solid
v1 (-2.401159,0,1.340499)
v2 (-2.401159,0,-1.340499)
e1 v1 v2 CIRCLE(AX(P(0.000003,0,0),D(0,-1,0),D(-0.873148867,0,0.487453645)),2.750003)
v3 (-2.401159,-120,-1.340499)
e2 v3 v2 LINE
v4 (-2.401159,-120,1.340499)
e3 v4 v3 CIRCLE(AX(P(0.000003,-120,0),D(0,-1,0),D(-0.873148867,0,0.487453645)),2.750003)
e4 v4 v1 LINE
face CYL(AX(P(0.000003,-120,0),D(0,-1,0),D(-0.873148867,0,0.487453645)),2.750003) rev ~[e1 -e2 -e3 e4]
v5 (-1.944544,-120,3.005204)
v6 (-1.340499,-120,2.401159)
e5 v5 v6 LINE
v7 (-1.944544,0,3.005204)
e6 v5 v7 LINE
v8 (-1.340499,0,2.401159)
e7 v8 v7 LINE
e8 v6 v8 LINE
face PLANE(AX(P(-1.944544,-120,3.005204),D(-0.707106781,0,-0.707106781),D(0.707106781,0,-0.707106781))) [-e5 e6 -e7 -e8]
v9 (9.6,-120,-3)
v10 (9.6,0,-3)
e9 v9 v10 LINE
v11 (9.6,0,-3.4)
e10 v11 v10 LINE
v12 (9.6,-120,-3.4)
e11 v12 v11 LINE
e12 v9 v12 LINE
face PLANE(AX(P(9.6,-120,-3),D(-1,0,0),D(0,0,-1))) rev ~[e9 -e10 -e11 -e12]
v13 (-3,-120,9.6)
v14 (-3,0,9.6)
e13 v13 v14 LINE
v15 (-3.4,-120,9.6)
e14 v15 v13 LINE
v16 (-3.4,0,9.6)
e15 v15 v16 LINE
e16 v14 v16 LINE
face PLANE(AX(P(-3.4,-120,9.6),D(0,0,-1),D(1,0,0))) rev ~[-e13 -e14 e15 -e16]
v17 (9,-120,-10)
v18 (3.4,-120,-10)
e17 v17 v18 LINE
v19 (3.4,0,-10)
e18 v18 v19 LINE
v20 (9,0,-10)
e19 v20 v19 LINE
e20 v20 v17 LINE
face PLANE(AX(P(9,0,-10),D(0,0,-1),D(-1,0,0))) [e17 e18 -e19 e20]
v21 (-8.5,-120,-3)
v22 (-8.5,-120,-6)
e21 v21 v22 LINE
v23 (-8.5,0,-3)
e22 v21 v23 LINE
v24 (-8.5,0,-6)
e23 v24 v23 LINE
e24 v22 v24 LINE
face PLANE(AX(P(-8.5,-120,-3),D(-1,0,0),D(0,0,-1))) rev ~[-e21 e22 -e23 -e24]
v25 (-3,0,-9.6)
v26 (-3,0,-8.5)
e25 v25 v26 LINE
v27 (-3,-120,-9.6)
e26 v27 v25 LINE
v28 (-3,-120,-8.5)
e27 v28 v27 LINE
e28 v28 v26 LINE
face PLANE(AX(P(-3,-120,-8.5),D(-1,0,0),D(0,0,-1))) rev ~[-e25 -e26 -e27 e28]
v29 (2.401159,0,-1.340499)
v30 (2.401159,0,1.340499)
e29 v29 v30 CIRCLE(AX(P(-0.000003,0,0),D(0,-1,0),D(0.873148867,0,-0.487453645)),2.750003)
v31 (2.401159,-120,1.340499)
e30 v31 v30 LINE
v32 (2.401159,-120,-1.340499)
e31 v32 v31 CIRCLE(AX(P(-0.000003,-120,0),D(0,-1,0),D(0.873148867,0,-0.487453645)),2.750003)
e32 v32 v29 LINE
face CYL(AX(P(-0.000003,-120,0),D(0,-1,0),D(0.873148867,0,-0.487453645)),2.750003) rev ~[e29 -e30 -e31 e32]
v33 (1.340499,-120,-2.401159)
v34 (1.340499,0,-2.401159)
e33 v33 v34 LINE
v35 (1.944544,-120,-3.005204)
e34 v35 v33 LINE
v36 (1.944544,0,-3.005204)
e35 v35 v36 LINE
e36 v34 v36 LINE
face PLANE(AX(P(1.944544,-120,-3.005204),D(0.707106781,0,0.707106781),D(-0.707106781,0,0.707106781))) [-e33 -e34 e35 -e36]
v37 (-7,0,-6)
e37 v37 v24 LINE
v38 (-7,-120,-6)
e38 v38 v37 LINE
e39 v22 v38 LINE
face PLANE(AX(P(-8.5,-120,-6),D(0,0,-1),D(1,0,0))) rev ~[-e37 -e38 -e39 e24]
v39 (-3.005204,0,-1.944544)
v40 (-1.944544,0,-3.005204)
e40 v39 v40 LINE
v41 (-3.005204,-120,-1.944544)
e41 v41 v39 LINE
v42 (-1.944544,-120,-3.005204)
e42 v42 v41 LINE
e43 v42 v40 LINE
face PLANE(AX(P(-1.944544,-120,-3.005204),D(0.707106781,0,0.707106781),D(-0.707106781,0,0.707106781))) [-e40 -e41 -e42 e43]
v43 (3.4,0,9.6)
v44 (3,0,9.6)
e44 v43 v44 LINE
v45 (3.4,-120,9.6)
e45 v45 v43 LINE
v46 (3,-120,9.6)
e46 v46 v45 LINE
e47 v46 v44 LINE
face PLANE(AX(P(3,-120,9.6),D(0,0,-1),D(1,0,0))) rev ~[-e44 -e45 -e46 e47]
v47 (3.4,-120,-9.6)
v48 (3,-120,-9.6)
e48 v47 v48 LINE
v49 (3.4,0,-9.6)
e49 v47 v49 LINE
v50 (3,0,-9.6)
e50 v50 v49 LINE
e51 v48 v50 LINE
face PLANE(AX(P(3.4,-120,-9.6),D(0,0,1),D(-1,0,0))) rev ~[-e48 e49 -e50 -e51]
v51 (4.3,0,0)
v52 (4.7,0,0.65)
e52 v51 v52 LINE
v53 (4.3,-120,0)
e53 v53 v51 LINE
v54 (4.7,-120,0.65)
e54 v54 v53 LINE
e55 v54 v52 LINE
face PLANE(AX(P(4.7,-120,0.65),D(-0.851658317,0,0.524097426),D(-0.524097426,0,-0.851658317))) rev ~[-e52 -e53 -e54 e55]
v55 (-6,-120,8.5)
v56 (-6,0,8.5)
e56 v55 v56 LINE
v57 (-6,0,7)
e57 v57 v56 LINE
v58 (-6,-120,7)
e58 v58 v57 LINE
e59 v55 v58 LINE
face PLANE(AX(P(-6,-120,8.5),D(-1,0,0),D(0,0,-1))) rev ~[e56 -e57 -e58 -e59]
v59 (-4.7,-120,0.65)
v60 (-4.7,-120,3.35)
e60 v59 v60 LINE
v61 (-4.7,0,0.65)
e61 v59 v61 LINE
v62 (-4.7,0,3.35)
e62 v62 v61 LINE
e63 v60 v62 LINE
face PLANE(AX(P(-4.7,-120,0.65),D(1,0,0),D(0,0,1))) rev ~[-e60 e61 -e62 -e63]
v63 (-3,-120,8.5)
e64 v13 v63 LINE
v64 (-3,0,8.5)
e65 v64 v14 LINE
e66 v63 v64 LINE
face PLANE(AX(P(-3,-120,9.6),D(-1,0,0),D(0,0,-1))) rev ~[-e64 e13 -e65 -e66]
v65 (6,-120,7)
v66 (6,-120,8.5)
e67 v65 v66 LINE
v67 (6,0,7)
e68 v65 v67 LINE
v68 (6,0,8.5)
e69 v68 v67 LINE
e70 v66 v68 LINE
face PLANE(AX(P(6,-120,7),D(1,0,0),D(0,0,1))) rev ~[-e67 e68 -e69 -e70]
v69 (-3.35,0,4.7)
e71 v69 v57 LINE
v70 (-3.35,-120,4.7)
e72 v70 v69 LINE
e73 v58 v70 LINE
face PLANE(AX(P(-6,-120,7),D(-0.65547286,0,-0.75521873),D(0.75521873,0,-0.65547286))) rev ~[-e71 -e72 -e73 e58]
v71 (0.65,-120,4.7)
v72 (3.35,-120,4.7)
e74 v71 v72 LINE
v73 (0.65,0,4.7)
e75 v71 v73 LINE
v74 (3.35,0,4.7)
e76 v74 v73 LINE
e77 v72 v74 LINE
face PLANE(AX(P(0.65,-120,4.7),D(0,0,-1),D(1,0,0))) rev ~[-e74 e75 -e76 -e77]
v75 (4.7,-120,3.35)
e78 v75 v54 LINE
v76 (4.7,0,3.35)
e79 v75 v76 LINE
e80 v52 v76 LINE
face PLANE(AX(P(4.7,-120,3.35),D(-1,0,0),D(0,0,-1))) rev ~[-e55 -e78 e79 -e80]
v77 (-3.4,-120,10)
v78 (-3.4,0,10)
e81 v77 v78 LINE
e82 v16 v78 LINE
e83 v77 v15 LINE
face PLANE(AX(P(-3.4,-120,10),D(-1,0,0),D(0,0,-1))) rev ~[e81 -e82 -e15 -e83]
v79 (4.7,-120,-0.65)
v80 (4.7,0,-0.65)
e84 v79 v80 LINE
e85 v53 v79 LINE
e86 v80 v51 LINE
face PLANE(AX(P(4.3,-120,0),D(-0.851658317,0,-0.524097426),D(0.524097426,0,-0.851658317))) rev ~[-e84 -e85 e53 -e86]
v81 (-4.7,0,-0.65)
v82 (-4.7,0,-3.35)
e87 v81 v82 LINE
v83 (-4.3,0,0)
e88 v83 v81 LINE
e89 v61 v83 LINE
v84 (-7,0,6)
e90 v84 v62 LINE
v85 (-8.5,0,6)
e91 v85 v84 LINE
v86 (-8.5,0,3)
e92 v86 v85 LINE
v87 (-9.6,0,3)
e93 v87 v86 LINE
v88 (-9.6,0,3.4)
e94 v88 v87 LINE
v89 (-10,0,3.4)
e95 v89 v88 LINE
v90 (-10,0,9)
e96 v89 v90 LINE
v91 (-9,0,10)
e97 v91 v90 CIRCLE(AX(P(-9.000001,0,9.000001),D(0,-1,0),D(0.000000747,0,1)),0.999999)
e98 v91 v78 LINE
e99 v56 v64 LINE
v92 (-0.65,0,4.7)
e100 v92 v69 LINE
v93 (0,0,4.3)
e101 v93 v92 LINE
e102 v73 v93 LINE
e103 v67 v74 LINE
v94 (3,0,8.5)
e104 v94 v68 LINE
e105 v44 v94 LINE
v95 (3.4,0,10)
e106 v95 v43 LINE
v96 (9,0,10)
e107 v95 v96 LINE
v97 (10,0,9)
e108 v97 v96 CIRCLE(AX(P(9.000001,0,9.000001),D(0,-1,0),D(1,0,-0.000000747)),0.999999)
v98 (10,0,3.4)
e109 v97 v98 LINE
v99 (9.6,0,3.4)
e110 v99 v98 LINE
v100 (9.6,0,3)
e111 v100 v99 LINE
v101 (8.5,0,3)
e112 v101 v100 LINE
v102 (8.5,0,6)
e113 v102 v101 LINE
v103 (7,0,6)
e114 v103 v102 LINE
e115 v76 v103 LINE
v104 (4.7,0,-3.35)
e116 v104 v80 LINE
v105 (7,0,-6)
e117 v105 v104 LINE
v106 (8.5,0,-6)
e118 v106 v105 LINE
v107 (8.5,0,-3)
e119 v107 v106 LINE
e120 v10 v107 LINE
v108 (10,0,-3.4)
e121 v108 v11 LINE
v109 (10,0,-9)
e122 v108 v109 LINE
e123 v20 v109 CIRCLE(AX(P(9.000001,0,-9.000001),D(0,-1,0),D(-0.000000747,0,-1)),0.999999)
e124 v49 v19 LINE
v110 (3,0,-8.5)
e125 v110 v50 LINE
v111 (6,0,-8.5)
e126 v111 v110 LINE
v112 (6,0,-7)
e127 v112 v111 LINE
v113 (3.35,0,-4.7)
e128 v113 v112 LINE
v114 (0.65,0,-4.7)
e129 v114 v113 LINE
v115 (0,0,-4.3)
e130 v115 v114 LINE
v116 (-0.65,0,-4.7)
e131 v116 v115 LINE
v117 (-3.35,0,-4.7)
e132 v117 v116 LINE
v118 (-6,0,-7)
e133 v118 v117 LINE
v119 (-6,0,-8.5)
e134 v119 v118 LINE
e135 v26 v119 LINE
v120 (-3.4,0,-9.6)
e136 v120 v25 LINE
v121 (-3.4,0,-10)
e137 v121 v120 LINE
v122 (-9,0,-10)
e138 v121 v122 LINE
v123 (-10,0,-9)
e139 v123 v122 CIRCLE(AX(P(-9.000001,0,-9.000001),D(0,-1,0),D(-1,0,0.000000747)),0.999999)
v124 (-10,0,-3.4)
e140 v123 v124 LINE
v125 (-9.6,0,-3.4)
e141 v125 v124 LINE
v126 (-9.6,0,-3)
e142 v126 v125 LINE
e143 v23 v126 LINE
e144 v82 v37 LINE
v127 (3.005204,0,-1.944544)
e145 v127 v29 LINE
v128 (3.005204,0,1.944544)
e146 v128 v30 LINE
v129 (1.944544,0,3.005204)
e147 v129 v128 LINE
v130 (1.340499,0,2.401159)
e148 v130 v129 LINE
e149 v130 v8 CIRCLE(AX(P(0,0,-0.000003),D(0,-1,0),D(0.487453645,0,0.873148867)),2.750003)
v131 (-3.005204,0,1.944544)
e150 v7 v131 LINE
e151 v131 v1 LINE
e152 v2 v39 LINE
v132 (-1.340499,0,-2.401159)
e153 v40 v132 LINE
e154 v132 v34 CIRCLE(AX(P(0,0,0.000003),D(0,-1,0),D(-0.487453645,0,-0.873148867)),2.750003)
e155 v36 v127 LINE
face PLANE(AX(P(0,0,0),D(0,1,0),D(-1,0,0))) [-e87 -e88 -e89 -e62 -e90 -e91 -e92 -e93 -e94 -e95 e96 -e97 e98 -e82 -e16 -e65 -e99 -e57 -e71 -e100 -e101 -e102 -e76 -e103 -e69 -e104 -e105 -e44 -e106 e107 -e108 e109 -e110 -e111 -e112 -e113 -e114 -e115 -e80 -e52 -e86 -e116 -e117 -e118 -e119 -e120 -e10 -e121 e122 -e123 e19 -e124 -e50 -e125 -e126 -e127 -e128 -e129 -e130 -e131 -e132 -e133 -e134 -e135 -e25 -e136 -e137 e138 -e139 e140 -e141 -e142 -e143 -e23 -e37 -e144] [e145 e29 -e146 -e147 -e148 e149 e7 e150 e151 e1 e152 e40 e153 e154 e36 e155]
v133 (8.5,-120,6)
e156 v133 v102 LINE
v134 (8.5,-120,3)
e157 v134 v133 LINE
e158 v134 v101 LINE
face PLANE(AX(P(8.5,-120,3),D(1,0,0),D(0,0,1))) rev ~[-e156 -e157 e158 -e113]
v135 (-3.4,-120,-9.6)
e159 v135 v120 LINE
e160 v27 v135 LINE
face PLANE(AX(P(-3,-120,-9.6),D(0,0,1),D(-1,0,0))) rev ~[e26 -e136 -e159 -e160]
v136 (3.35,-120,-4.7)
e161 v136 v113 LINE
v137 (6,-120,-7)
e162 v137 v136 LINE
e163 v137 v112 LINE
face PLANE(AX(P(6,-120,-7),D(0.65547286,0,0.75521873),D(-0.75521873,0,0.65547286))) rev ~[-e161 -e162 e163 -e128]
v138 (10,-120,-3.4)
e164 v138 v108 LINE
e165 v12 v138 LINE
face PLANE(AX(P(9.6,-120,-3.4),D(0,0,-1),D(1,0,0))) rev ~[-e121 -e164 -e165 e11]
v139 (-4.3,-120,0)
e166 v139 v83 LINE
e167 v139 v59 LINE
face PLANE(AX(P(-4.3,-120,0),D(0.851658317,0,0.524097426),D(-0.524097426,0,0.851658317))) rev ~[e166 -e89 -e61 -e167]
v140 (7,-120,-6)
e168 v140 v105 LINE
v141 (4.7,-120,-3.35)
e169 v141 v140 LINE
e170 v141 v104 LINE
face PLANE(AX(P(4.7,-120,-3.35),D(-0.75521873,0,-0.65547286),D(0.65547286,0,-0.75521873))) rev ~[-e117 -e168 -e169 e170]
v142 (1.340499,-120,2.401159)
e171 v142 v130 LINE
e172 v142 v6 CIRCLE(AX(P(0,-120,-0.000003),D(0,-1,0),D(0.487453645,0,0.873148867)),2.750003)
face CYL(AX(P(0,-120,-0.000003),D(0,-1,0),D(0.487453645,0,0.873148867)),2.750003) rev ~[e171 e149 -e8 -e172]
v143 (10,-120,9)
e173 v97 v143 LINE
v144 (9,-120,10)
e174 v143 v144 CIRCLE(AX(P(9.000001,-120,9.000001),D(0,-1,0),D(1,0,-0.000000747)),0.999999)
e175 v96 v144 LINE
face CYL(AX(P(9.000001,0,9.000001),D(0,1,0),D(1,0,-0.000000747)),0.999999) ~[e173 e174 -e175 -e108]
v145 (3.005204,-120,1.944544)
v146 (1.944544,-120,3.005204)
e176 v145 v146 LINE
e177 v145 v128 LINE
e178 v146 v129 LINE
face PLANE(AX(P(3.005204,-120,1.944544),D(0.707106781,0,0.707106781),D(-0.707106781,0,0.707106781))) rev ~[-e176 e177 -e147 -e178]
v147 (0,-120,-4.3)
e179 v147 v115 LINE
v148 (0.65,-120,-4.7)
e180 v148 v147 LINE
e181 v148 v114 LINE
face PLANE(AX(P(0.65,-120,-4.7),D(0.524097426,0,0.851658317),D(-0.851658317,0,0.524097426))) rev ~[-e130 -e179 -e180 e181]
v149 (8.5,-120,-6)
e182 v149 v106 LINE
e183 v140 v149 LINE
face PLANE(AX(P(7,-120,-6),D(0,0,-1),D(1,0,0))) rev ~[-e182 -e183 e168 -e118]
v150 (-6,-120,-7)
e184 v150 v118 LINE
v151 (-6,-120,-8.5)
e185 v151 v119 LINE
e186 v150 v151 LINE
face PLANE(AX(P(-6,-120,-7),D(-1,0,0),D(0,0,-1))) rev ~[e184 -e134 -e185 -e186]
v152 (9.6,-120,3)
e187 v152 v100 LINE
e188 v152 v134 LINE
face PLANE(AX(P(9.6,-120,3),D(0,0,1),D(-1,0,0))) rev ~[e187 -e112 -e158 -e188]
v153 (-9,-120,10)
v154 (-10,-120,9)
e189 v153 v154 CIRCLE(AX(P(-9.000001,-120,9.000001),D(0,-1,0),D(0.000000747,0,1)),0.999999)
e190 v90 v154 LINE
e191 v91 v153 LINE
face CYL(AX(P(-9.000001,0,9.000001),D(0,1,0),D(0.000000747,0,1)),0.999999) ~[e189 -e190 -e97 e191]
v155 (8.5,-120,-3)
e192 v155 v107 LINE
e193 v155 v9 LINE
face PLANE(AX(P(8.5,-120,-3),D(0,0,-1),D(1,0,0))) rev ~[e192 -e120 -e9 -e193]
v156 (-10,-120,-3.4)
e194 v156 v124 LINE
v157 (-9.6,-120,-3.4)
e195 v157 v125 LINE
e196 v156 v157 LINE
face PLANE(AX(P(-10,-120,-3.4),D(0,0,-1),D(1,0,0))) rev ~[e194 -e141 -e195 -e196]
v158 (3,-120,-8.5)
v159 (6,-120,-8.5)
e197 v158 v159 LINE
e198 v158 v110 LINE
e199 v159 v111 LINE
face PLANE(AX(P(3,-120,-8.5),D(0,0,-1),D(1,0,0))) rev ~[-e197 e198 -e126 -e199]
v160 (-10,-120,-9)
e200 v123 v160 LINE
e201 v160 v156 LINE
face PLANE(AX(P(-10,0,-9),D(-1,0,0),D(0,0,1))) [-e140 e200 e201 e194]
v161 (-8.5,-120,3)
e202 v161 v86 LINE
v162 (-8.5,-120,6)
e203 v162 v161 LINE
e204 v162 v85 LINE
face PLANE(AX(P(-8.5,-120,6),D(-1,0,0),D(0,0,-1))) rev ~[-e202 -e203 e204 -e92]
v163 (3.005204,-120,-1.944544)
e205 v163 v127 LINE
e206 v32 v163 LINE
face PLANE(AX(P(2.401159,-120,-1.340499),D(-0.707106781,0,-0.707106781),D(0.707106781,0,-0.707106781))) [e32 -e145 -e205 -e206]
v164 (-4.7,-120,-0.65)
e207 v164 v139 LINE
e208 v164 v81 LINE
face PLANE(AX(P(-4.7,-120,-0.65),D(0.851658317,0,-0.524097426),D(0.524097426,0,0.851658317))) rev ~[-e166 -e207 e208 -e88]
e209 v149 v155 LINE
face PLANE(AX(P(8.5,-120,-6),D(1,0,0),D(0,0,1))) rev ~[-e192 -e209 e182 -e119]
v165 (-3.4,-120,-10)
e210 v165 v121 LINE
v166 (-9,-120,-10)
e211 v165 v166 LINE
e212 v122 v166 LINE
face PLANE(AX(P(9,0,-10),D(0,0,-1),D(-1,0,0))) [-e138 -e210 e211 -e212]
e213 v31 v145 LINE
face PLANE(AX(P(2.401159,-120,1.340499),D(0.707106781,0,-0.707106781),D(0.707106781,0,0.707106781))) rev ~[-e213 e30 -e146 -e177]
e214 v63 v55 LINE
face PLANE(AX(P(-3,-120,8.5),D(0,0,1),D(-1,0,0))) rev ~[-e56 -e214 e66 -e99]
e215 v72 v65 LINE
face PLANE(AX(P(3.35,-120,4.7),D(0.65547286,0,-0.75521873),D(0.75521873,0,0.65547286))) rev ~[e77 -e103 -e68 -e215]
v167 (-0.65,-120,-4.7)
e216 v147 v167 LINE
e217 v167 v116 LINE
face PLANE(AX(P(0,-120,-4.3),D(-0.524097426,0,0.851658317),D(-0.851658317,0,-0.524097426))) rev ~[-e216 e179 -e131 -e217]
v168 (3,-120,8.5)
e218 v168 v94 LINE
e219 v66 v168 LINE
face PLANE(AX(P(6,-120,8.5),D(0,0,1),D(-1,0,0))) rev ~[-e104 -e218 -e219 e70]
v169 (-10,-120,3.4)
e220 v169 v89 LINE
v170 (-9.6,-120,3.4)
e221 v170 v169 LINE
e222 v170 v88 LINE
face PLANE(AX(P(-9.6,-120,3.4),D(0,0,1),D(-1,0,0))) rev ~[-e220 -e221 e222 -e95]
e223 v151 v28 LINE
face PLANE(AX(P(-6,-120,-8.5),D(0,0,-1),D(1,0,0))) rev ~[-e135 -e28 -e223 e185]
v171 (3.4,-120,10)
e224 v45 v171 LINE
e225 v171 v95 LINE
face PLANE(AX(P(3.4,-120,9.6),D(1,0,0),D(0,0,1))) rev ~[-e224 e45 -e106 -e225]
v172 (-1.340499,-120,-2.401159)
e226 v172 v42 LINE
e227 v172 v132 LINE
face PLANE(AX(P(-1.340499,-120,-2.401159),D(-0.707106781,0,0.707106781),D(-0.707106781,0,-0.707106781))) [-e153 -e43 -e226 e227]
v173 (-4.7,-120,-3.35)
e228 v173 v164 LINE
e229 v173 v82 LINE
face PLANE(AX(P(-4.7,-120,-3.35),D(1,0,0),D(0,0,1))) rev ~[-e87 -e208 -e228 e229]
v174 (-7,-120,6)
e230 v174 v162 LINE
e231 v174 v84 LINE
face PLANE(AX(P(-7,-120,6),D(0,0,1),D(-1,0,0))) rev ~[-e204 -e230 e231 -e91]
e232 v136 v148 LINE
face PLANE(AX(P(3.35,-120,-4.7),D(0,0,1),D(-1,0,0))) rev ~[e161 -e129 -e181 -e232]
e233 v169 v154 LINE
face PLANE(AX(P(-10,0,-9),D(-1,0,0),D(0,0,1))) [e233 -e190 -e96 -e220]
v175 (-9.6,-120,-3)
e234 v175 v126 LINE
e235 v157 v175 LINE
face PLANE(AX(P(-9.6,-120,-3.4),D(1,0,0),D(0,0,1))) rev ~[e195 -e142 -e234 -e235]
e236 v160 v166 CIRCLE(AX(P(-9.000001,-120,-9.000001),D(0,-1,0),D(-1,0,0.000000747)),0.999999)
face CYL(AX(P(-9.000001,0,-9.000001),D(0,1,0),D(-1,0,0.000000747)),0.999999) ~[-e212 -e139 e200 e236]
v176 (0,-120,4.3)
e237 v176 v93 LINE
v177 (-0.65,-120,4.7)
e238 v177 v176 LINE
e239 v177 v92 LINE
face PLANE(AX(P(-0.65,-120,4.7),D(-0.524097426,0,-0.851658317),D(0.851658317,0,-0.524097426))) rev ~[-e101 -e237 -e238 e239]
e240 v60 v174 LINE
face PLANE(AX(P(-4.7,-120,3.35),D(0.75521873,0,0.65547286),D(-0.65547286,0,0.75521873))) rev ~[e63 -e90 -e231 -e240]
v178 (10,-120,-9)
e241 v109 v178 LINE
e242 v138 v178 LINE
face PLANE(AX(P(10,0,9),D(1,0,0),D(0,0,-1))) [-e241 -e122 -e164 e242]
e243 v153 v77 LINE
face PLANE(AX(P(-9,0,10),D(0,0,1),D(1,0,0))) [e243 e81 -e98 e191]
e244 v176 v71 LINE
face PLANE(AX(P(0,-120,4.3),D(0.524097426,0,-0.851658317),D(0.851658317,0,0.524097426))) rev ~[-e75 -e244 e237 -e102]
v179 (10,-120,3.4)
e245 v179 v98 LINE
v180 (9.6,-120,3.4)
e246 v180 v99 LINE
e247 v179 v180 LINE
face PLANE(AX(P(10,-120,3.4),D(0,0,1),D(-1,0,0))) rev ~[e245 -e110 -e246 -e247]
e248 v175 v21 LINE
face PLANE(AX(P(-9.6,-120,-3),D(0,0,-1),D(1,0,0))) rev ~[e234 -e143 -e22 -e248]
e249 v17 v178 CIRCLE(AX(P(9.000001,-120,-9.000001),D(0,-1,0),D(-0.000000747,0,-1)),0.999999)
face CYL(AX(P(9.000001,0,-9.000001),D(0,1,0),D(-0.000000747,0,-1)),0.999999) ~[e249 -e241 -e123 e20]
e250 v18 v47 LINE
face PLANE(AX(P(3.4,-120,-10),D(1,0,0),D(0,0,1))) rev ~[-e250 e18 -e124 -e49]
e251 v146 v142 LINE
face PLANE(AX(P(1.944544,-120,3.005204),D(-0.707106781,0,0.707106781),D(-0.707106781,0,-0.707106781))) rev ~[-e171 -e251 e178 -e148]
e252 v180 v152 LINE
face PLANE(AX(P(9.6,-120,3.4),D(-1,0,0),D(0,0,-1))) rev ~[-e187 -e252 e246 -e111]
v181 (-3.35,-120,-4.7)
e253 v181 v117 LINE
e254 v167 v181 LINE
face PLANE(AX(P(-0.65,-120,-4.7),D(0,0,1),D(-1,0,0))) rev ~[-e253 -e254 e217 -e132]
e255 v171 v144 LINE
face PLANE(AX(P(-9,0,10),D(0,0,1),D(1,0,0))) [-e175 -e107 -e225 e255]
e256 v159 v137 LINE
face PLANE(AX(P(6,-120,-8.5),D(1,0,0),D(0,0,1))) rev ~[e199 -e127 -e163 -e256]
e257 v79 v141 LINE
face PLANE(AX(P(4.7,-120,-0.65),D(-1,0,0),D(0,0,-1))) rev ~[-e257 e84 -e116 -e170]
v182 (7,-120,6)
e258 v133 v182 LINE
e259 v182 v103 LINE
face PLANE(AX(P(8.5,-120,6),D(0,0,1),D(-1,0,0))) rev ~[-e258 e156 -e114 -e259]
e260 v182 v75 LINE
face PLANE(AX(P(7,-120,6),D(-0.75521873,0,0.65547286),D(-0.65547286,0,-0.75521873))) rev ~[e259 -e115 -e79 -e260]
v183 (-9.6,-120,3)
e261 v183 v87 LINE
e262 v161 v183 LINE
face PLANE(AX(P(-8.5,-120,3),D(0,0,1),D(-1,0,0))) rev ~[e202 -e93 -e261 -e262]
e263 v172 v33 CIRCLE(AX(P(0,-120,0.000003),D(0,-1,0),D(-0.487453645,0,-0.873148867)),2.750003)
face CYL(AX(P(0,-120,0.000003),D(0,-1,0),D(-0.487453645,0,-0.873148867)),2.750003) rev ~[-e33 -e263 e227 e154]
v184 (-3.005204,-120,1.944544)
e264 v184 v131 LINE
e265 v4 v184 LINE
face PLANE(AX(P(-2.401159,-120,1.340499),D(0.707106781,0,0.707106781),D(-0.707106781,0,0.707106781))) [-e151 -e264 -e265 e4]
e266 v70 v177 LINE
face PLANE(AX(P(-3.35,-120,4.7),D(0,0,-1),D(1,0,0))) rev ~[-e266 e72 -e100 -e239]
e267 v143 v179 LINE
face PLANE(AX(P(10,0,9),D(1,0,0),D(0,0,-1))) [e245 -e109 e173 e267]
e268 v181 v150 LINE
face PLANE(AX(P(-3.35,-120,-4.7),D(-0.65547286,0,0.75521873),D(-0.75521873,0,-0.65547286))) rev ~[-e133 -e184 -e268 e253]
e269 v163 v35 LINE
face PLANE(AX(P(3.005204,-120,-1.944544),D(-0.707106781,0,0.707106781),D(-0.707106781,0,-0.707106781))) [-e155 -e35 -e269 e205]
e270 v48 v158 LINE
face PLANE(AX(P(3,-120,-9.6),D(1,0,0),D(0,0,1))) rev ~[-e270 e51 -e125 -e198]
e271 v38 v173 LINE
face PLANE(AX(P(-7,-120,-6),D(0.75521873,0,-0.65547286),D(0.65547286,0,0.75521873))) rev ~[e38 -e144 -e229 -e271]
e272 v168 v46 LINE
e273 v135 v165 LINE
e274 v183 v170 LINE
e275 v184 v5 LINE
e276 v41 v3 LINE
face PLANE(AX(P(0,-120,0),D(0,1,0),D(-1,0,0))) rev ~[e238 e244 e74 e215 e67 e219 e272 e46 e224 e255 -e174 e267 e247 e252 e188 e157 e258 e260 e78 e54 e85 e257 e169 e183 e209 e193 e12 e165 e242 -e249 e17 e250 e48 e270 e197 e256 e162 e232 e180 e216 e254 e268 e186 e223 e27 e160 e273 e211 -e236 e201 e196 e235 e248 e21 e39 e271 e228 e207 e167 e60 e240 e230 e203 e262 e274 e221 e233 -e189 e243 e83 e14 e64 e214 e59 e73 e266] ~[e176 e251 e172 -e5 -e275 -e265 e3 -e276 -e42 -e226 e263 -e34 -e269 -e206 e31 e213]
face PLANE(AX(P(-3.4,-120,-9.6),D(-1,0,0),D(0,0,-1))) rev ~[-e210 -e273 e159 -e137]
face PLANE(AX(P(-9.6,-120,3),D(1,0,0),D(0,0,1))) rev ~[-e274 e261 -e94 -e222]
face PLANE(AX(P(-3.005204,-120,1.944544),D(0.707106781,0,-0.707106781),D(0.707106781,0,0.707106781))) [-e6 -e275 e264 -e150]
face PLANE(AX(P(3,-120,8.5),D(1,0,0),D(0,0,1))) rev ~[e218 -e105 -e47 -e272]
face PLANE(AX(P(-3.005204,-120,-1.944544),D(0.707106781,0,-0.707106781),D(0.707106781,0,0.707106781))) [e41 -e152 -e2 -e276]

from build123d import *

# Parameters (mm, degrees)
PAD_DEPTH          = 120
POCKET_DEPTH       = 380
POLARPATTERN_COUNT = 4
POCKET001_DEPTH    = 380


with BuildPart() as part:
    # Sketch → Pad (new body)
    with BuildSketch(Plane.XZ):
        with BuildLine():
            Line((-9, 10), (9, 10))
            ThreePointArc((10, 9), (9.707107, 9.707107), (9, 10))
            Line((10, 9), (10, -9))
            ThreePointArc((9, -10), (9.707107, -9.707107), (10, -9))
            Line((9, -10), (-9, -10))
            ThreePointArc((-10, -9), (-9.707107, -9.707107), (-9, -10))
            Line((-10, -9), (-10, 9))
            ThreePointArc((-9, 10), (-9.707107, 9.707107), (-10, 9))
        make_face()
    extrude(amount=PAD_DEPTH)

    # Sketch001 (on Face10 of Pad) → Pocket (cut)
    with BuildSketch(Plane.XZ.offset(120)):
        Polygon((-3.4, 10), (-3.4, 9.6), (-3, 9.6), (-3, 8.5), (-6, 8.5), (-6, 7), (-3.35, 4.7), (-0.65, 4.7), (0, 4.3), (0.65, 4.7), (3.35, 4.7), (6, 7), (6, 8.5), (3, 8.5), (3, 9.6), (3.4, 9.6), (3.4, 10), align=None)
    pocket = extrude(amount=-POCKET_DEPTH, mode=Mode.SUBTRACT)

    # PolarPattern: Pocket ×4 about axis
    polarpattern_axis = Axis((0, -120, 0), (0, -1, 0))
    for i in range(1, POLARPATTERN_COUNT):
        add(pocket.rotate(polarpattern_axis, i * 360 / POLARPATTERN_COUNT), mode=Mode.SUBTRACT)

    # Sketch002 (on Face4 of PolarPattern) → Pocket001 (cut)
    with BuildSketch(Plane.XZ.offset(120)):
        with BuildLine():
            ThreePointArc((1.340499, 2.401159), (0, 2.75), (-1.340499, 2.401159))
            Line((-1.944544, 3.005204), (-1.340499, 2.401159))
            Line((-3.005204, 1.944544), (-1.944544, 3.005204))
            Line((-2.401159, 1.340499), (-3.005204, 1.944544))
            ThreePointArc((-2.401159, 1.340499), (-2.75, 0), (-2.401159, -1.340499))
            Line((-3.005204, -1.944544), (-2.401159, -1.340499))
            Line((-1.944544, -3.005204), (-3.005204, -1.944544))
            Line((-1.340499, -2.401159), (-1.944544, -3.005204))
            ThreePointArc((-1.340499, -2.401159), (0, -2.75), (1.340499, -2.401159))
            Line((1.944544, -3.005204), (1.340499, -2.401159))
            Line((3.005204, -1.944544), (1.944544, -3.005204))
            Line((2.401159, -1.340499), (3.005204, -1.944544))
            ThreePointArc((2.401159, -1.340499), (2.75, 0), (2.401159, 1.340499))
            Line((2.401159, 1.340499), (3.005204, 1.944544))
            Line((3.005204, 1.944544), (1.944544, 3.005204))
            Line((1.944544, 3.005204), (1.340499, 2.401159))
        make_face()
    extrude(amount=-POCKET001_DEPTH, mode=Mode.SUBTRACT)


solid = part.part
